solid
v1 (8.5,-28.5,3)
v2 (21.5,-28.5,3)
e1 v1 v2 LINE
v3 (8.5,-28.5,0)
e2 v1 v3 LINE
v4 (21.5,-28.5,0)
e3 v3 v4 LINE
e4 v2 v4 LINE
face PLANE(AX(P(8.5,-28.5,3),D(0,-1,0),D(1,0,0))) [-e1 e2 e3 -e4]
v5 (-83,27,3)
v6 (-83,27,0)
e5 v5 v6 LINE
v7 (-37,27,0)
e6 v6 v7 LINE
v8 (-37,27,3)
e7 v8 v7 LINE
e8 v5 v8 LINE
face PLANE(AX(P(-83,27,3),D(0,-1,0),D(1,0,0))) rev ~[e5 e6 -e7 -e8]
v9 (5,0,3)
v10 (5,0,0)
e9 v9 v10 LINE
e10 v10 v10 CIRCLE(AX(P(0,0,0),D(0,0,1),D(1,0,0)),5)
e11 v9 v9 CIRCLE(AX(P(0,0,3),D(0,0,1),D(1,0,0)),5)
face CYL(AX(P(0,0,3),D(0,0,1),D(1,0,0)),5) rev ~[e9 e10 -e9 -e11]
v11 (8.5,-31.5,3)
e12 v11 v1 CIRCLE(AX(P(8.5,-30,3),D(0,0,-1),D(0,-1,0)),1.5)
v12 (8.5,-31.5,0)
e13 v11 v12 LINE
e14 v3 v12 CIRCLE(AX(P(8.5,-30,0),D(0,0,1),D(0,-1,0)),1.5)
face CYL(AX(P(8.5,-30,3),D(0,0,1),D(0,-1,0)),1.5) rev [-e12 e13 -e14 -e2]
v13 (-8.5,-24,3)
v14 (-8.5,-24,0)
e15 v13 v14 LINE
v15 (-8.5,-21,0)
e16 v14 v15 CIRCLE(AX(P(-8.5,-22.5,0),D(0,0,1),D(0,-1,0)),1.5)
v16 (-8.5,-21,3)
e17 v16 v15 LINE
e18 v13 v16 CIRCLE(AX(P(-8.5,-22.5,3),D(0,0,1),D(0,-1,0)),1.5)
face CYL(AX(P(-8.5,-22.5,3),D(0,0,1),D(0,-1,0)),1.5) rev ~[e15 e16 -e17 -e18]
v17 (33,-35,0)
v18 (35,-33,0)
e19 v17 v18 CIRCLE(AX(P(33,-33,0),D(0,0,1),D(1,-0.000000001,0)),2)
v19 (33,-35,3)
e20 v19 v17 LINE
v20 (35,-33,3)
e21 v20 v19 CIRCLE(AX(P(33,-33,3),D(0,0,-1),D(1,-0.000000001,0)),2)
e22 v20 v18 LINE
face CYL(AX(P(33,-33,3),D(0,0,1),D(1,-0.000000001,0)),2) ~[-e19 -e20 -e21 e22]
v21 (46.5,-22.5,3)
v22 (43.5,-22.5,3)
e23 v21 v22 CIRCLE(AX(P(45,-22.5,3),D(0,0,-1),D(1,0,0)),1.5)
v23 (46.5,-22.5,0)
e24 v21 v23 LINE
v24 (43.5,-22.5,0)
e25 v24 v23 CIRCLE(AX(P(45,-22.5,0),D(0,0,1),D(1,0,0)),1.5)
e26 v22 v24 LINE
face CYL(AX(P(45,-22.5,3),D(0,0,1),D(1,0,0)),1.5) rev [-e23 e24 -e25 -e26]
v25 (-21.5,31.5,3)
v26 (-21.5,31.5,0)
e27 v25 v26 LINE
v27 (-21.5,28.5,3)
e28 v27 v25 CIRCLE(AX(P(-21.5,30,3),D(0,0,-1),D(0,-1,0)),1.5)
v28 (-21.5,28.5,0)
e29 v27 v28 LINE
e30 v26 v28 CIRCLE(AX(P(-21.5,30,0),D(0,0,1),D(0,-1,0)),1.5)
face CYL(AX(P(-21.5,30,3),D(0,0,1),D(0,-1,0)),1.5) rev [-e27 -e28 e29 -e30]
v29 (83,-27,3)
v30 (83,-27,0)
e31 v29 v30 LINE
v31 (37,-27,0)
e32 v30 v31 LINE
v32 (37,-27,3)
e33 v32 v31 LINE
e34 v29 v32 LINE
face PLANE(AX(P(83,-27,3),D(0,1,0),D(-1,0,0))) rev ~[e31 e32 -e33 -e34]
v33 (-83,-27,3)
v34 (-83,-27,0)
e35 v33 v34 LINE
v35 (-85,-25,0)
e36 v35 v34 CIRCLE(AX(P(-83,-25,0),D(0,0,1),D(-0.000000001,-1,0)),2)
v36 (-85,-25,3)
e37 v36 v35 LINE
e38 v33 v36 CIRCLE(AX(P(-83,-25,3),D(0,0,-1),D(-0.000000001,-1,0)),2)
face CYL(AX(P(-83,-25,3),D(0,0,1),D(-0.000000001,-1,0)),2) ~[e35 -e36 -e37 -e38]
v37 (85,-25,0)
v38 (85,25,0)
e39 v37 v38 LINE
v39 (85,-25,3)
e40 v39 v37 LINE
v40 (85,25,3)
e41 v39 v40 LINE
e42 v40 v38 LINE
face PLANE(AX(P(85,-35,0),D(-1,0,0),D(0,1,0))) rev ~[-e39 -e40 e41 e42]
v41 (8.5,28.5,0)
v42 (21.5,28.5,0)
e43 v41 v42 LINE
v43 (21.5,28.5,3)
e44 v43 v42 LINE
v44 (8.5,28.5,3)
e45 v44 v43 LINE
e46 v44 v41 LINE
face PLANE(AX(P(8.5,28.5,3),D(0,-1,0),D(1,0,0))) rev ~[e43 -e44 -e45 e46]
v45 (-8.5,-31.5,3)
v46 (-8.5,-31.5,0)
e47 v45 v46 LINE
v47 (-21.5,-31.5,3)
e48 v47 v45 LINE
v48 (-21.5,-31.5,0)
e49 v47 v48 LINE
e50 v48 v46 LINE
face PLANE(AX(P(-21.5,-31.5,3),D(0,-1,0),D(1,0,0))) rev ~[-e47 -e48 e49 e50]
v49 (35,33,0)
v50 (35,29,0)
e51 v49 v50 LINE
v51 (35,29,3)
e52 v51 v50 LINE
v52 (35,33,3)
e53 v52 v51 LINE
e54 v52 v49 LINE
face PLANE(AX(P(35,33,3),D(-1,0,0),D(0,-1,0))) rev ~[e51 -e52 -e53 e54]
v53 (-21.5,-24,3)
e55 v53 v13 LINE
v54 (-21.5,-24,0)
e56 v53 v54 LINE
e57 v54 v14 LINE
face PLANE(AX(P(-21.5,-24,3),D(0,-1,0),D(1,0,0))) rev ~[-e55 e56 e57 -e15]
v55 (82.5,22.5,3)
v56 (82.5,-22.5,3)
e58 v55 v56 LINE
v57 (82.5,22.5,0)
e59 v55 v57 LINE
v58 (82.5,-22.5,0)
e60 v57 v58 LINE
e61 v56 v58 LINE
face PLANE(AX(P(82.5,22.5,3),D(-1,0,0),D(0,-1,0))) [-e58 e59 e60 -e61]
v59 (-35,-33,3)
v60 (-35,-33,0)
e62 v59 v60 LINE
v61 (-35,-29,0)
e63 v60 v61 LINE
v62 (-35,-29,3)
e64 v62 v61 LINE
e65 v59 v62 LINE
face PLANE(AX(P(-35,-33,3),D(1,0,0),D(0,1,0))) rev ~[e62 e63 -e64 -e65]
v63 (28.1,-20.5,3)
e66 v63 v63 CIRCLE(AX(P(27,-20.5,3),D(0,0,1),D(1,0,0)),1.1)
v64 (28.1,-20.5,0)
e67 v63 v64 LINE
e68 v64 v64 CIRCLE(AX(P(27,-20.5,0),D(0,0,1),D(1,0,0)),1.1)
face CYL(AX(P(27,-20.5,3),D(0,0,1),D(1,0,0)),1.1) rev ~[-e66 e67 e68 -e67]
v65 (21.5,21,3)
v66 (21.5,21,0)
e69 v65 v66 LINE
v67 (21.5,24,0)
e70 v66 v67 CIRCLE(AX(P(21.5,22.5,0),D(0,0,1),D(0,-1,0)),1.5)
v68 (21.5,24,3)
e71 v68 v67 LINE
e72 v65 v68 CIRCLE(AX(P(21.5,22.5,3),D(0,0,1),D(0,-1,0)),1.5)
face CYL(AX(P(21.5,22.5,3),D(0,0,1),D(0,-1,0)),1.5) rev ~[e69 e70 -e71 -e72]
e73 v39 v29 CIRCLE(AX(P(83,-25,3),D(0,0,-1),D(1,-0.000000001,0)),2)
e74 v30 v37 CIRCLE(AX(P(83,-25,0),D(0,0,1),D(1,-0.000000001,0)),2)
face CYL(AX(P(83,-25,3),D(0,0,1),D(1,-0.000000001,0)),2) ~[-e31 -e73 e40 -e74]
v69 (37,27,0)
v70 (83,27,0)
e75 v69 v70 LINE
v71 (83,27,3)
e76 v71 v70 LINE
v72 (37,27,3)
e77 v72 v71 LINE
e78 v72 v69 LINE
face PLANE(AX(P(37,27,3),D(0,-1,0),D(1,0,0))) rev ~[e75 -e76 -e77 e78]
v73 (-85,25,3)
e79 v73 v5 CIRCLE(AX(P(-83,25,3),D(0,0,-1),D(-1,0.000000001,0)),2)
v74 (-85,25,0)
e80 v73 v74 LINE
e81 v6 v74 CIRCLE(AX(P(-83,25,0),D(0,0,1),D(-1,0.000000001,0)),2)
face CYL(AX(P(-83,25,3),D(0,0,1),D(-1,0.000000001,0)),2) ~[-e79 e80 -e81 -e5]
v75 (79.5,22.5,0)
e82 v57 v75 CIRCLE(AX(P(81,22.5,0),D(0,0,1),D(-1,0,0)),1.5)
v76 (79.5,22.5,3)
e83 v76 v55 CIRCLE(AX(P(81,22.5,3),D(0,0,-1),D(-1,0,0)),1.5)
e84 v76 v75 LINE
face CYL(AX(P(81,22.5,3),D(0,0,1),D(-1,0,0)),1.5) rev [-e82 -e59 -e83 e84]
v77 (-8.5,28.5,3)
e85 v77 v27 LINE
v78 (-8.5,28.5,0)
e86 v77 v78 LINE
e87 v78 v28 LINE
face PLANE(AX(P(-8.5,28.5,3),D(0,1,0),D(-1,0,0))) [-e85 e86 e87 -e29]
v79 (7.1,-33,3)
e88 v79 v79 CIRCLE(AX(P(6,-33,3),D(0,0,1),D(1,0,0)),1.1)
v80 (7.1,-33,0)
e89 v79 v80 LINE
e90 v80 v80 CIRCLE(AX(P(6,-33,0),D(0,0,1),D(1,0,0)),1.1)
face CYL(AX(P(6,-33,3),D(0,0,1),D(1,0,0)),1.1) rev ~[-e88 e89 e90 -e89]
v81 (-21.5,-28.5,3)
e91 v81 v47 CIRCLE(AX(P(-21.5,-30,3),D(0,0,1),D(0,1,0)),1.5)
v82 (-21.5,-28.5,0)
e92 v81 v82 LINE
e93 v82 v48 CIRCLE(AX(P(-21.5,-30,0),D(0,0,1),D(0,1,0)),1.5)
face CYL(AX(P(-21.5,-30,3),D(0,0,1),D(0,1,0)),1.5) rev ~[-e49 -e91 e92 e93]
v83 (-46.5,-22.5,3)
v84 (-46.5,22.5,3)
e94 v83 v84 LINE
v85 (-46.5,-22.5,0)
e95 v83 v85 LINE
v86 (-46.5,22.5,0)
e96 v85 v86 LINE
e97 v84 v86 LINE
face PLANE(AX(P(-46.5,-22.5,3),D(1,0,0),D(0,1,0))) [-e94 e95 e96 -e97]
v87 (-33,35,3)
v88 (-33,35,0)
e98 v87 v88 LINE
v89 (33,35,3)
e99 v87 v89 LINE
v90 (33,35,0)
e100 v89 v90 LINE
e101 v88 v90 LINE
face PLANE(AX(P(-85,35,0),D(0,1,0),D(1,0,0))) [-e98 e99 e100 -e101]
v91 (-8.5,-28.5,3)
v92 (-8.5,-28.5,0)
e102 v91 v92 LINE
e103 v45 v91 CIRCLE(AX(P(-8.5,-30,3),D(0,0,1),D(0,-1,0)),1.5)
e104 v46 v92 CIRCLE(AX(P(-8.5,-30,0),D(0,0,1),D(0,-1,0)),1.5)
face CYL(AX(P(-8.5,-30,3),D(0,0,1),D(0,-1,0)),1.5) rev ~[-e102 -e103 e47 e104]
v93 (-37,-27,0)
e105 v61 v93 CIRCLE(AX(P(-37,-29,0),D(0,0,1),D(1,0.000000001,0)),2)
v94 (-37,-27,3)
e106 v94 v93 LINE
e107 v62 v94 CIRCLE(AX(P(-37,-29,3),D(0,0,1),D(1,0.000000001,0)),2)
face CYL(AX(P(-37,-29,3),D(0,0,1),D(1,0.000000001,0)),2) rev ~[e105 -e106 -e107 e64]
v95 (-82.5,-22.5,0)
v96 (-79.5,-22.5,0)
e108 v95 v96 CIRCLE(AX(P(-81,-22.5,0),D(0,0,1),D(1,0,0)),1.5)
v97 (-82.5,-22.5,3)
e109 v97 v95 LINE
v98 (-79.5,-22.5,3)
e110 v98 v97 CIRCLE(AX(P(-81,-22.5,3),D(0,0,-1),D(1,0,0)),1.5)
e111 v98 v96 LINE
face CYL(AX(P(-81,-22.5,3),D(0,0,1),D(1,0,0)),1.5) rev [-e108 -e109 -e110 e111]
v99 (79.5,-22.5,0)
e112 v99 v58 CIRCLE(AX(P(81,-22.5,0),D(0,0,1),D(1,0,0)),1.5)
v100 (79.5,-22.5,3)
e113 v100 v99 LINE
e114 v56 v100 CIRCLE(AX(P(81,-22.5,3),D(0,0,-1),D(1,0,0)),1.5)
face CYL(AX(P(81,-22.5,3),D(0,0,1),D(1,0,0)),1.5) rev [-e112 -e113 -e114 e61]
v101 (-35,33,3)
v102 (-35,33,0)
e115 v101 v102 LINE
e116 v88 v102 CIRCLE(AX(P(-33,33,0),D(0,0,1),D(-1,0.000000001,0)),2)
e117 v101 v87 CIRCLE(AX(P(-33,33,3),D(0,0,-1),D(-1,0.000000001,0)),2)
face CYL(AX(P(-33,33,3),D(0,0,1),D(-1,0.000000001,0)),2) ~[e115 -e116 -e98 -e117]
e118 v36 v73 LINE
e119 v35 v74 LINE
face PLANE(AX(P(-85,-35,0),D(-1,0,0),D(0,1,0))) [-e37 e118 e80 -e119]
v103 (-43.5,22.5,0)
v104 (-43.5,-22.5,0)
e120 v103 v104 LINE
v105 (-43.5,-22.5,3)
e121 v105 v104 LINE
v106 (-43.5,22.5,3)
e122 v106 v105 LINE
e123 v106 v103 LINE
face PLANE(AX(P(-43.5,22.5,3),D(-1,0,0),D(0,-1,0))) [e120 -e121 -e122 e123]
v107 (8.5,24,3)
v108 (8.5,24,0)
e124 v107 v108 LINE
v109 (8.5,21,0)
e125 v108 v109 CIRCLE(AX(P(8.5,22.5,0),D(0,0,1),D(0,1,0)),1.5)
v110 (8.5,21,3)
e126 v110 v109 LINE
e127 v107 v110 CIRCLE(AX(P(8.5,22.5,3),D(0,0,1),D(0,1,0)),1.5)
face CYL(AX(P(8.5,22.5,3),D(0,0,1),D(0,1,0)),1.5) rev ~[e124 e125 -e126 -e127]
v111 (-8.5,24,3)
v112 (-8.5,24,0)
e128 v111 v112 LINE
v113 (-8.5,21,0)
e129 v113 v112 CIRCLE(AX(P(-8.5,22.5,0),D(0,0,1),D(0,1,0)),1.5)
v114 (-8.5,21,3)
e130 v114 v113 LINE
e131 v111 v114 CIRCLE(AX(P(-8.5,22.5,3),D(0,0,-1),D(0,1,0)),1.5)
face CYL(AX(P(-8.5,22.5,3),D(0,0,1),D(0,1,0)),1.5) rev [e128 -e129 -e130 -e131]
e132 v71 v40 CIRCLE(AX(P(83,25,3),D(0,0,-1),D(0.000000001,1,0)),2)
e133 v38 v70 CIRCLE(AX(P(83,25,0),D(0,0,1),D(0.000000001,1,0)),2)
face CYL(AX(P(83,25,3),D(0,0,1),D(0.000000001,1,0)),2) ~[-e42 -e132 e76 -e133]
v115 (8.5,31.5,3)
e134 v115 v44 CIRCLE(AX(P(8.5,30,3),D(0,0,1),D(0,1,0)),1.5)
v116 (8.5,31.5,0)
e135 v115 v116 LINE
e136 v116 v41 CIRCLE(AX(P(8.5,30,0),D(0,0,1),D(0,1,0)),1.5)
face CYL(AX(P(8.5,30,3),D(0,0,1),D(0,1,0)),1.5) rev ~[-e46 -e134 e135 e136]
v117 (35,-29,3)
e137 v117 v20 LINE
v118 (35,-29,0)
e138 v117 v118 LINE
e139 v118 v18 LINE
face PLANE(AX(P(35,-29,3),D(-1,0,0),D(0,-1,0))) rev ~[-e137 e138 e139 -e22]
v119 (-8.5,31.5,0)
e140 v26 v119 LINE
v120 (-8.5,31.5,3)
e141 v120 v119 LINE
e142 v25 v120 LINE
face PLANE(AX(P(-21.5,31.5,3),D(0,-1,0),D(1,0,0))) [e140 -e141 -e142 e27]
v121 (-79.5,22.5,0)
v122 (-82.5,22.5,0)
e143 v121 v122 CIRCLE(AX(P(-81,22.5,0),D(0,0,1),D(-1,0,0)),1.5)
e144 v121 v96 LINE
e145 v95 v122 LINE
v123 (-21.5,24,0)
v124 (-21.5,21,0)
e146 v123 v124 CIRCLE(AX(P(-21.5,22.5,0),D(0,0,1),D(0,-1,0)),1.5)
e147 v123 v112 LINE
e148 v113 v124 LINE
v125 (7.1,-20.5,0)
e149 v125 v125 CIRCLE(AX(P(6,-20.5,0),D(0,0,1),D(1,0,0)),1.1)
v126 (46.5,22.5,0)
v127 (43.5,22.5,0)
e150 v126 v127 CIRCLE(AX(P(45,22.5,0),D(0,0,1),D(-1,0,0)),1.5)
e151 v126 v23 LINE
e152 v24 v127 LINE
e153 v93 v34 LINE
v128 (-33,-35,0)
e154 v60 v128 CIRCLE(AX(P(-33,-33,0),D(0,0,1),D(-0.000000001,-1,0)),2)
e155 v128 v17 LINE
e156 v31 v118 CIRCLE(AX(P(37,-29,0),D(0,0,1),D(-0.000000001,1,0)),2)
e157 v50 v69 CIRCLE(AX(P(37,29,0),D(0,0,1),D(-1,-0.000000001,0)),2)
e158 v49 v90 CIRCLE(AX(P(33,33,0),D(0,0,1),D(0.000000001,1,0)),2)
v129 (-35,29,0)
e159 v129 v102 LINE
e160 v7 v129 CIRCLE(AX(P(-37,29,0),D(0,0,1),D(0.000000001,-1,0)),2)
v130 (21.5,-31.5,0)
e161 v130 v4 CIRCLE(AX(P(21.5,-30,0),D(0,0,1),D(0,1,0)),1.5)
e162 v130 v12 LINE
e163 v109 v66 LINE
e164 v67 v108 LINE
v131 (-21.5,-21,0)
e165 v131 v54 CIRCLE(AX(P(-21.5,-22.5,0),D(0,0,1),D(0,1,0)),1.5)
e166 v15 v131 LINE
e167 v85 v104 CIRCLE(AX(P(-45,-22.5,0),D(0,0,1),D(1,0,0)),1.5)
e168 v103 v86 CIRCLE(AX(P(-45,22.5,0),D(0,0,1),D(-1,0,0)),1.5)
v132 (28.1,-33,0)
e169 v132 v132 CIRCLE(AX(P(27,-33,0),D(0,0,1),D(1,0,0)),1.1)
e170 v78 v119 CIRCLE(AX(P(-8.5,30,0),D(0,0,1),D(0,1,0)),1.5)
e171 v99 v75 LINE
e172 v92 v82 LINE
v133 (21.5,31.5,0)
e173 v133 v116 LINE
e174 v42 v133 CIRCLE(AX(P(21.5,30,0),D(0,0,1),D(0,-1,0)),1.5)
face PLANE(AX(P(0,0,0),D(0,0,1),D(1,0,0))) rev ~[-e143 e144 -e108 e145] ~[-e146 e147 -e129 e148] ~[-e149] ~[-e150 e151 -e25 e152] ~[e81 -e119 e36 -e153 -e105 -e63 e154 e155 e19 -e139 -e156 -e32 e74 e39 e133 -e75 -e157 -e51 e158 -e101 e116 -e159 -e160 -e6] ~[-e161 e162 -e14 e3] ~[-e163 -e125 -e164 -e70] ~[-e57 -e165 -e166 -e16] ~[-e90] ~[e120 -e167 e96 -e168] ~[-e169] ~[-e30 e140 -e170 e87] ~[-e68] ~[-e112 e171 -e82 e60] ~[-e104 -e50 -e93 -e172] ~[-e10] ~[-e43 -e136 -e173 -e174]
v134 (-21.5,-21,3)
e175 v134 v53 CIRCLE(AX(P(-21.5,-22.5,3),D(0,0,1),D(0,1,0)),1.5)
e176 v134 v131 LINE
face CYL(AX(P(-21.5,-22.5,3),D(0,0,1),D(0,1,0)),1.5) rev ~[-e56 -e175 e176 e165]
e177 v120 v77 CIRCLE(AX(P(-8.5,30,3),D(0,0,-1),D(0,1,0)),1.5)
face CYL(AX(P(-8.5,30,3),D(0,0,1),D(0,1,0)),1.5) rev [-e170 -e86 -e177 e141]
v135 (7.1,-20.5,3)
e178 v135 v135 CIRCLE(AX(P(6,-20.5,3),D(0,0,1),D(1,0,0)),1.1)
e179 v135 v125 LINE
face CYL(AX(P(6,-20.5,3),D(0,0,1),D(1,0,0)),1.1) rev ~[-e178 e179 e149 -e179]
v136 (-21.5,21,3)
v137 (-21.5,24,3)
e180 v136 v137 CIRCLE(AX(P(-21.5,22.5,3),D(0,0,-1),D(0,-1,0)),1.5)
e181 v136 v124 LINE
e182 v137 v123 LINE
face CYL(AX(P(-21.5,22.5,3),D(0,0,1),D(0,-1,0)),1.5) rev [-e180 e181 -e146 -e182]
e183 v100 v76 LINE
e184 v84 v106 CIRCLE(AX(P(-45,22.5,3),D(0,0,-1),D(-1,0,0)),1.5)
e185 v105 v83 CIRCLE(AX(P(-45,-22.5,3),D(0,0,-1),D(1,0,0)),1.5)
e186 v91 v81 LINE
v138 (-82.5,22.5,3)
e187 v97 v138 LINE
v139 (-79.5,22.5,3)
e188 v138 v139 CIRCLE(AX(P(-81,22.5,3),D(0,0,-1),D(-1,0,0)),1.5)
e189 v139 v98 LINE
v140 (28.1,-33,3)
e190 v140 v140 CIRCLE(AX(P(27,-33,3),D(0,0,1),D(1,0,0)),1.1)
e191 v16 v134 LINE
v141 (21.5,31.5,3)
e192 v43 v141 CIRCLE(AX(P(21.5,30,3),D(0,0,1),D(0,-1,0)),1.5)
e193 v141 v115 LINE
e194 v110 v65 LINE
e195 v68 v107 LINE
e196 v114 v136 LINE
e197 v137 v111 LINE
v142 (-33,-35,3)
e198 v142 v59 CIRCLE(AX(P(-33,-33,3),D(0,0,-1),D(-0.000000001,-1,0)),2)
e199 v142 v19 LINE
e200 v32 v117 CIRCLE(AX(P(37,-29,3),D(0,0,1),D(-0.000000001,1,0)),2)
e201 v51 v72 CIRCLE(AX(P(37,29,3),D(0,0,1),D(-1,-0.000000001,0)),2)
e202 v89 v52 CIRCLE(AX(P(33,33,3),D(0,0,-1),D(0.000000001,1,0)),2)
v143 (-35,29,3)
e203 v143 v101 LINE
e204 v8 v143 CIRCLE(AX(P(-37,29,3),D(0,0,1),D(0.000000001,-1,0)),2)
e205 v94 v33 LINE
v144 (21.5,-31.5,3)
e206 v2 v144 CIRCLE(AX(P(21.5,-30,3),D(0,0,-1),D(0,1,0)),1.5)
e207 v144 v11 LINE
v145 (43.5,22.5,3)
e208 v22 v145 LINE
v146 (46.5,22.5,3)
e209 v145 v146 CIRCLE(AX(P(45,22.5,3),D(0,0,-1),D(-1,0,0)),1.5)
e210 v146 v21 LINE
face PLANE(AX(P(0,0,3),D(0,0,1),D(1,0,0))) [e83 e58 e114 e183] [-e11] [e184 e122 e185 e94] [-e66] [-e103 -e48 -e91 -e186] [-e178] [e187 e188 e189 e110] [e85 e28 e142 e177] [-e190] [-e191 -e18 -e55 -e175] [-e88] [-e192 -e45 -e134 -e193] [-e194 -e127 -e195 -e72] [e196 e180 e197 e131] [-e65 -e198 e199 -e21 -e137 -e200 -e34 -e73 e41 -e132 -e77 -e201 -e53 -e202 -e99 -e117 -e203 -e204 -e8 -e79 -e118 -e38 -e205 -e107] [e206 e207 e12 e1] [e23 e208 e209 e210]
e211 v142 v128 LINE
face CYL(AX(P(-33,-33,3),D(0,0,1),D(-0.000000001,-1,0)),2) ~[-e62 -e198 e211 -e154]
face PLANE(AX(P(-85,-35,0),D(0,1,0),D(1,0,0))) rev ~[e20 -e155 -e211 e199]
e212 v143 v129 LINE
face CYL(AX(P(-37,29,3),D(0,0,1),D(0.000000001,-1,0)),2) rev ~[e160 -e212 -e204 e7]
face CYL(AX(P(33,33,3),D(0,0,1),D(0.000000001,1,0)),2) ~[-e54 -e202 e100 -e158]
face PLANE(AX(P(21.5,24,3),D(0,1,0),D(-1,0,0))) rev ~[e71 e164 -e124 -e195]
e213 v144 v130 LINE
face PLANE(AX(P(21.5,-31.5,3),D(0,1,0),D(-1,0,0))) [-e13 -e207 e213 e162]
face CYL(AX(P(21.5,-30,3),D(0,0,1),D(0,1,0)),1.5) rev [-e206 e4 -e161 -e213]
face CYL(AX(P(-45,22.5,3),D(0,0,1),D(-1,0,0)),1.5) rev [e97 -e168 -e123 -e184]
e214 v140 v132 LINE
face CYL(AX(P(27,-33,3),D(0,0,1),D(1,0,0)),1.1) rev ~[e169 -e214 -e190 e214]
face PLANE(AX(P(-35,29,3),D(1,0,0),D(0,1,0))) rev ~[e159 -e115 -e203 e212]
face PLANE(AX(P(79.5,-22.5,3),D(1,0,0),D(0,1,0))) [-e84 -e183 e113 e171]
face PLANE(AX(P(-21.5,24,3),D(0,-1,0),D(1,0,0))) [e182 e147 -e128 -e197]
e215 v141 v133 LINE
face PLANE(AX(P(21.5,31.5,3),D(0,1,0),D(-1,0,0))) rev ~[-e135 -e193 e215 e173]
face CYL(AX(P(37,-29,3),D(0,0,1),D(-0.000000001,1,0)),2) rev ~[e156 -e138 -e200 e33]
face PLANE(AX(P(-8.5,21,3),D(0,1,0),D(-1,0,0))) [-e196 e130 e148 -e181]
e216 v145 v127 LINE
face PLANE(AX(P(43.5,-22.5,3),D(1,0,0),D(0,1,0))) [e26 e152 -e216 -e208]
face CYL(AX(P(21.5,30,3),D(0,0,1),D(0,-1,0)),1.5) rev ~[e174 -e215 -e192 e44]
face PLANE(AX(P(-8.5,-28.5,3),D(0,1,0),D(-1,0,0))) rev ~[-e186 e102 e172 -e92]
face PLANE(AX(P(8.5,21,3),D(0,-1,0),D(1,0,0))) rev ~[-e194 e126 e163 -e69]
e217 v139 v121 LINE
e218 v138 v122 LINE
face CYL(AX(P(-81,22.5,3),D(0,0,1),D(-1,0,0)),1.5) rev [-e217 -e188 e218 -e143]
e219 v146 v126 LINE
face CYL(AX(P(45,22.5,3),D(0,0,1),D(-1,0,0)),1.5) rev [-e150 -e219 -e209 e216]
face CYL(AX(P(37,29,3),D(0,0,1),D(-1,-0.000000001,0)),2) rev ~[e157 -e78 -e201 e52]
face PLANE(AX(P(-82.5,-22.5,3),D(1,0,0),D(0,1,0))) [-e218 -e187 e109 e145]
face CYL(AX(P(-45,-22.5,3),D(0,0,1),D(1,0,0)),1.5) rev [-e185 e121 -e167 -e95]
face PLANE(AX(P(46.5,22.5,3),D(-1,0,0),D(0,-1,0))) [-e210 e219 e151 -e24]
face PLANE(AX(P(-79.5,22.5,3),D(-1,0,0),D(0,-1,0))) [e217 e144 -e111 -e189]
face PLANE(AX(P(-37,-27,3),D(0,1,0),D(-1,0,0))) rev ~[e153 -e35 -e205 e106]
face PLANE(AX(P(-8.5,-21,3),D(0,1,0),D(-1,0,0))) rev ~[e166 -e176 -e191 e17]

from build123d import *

# Parameters (mm, degrees)
SKETCH_1_W          = 170
SKETCH_1_H          = 70
EXTRUDE_1_DEPTH     = 3
SKETCH_2_R          = 5
SKETCH_2_R_2        = 1.1
CUT_EXTRUDE_1_DEPTH = 92.972822073
CUT_EXTRUDE_2_DEPTH = 92.972822073


with BuildPart() as part:
    # 草圖1 → 填料-伸長1 (new body)
    with BuildSketch(Plane.XY):
        Rectangle(SKETCH_1_W, SKETCH_1_H)
    extrude(amount=EXTRUDE_1_DEPTH)

    # 草圖2 → 除料-伸長1 (cut, through all)
    with BuildSketch(Plane.XY.offset(3)):
        Circle(SKETCH_2_R)
        with Locations((27, -20.5)):
            Circle(SKETCH_2_R_2)
        with Locations((6, -20.5)):
            Circle(SKETCH_2_R_2)
        with Locations((6, -33)):
            Circle(SKETCH_2_R_2)
        with Locations((27, -33)):
            Circle(SKETCH_2_R_2)
        with BuildLine():
            Line((43.5, -22.5), (43.5, 22.5))
            ThreePointArc((43.5, 22.5), (45, 24), (46.5, 22.5))
            Line((46.5, 22.5), (46.5, -22.5))
            ThreePointArc((46.5, -22.5), (45, -24), (43.5, -22.5))
        make_face()
        with BuildLine():
            Line((-46.5, -22.5), (-46.5, 22.5))
            ThreePointArc((-46.5, 22.5), (-45, 24), (-43.5, 22.5))
            Line((-43.5, 22.5), (-43.5, -22.5))
            ThreePointArc((-43.5, -22.5), (-45, -24), (-46.5, -22.5))
        make_face()
        with BuildLine():
            Line((-82.5, -22.5), (-82.5, 22.5))
            ThreePointArc((-82.5, 22.5), (-81, 24), (-79.5, 22.5))
            Line((-79.5, 22.5), (-79.5, -22.5))
            ThreePointArc((-79.5, -22.5), (-81, -24), (-82.5, -22.5))
        make_face()
        with BuildLine():
            Line((79.5, -22.5), (79.5, 22.5))
            ThreePointArc((79.5, 22.5), (81, 24), (82.5, 22.5))
            Line((82.5, 22.5), (82.5, -22.5))
            ThreePointArc((82.5, -22.5), (81, -24), (79.5, -22.5))
        make_face()
        with BuildLine():
            Line((21.5, -31.5), (8.5, -31.5))
            ThreePointArc((8.5, -31.5), (7, -30), (8.5, -28.5))
            Line((8.5, -28.5), (21.5, -28.5))
            ThreePointArc((21.5, -28.5), (23, -30), (21.5, -31.5))
        make_face()
        with BuildLine():
            Line((-21.5, -31.5), (-8.5, -31.5))
            ThreePointArc((-8.5, -31.5), (-7, -30), (-8.5, -28.5))
            Line((-8.5, -28.5), (-21.5, -28.5))
            ThreePointArc((-21.5, -28.5), (-23, -30), (-21.5, -31.5))
        make_face()
        with BuildLine():
            Line((21.5, 31.5), (8.5, 31.5))
            ThreePointArc((8.5, 31.5), (7, 30), (8.5, 28.5))
            Line((8.5, 28.5), (21.5, 28.5))
            ThreePointArc((21.5, 28.5), (23, 30), (21.5, 31.5))
        make_face()
        with BuildLine():
            Line((-21.5, 31.5), (-8.5, 31.5))
            ThreePointArc((-8.5, 31.5), (-7, 30), (-8.5, 28.5))
            Line((-8.5, 28.5), (-21.5, 28.5))
            ThreePointArc((-21.5, 28.5), (-23, 30), (-21.5, 31.5))
        make_face()
        with BuildLine():
            Line((21.5, 24), (8.5, 24))
            ThreePointArc((8.5, 24), (7, 22.5), (8.5, 21))
            Line((8.5, 21), (21.5, 21))
            ThreePointArc((21.5, 21), (23, 22.5), (21.5, 24))
        make_face()
        with BuildLine():
            Line((-21.5, 24), (-8.5, 24))
            ThreePointArc((-8.5, 24), (-7, 22.5), (-8.5, 21))
            Line((-8.5, 21), (-21.5, 21))
            ThreePointArc((-21.5, 21), (-23, 22.5), (-21.5, 24))
        make_face()
        with BuildLine():
            Line((-21.5, -24), (-8.5, -24))
            ThreePointArc((-8.5, -24), (-7, -22.5), (-8.5, -21))
            Line((-8.5, -21), (-21.5, -21))
            ThreePointArc((-21.5, -21), (-23, -22.5), (-21.5, -24))
        make_face()
    extrude(amount=-CUT_EXTRUDE_1_DEPTH, mode=Mode.SUBTRACT)

    # 草圖4 → 除料-伸長2 (cut, through all)
    with BuildSketch(Plane.XY.offset(3)):
        with BuildLine():
            Line((85, 35), (35, 35))
            Line((35, 35), (33, 35))
            ThreePointArc((33, 35), (34.414213562, 34.414213562), (35, 33))
            Line((35, 33), (35, 29))
            ThreePointArc((35, 29), (35.585786438, 27.585786438), (37, 27))
            Line((37, 27), (83, 27))
            ThreePointArc((83, 27), (84.414213562, 26.414213562), (85, 25))
            Line((85, 25), (85, 27))
            Line((85, 27), (85, 35))
        make_face()
        with BuildLine():
            Line((85, -27), (85, -25))
            ThreePointArc((85, -25), (84.414213562, -26.414213562), (83, -27))
            Line((83, -27), (37, -27))
            ThreePointArc((37, -27), (35.585786438, -27.585786438), (35, -29))
            Line((35, -29), (35, -33))
            ThreePointArc((35, -33), (34.414213562, -34.414213562), (33, -35))
            Line((33, -35), (35, -35))
            Line((35, -35), (85, -35))
            Line((85, -35), (85, -27))
        make_face()
        with BuildLine():
            Line((-85, -35), (-35, -35))
            Line((-35, -35), (-33, -35))
            ThreePointArc((-33, -35), (-34.414213562, -34.414213562), (-35, -33))
            Line((-35, -33), (-35, -29))
            ThreePointArc((-35, -29), (-35.585786438, -27.585786438), (-37, -27))
            Line((-37, -27), (-83, -27))
            ThreePointArc((-83, -27), (-84.414213562, -26.414213562), (-85, -25))
            Line((-85, -25), (-85, -27))
            Line((-85, -27), (-85, -35))
        make_face()
        with BuildLine():
            Line((-85, 27), (-85, 25))
            ThreePointArc((-85, 25), (-84.414213562, 26.414213562), (-83, 27))
            Line((-83, 27), (-37, 27))
            ThreePointArc((-37, 27), (-35.585786438, 27.585786438), (-35, 29))
            Line((-35, 29), (-35, 33))
            ThreePointArc((-35, 33), (-34.414213562, 34.414213562), (-33, 35))
            Line((-33, 35), (-35, 35))
            Line((-35, 35), (-85, 35))
            Line((-85, 35), (-85, 27))
        make_face()
    extrude(amount=-CUT_EXTRUDE_2_DEPTH, mode=Mode.SUBTRACT)


solid = part.part
